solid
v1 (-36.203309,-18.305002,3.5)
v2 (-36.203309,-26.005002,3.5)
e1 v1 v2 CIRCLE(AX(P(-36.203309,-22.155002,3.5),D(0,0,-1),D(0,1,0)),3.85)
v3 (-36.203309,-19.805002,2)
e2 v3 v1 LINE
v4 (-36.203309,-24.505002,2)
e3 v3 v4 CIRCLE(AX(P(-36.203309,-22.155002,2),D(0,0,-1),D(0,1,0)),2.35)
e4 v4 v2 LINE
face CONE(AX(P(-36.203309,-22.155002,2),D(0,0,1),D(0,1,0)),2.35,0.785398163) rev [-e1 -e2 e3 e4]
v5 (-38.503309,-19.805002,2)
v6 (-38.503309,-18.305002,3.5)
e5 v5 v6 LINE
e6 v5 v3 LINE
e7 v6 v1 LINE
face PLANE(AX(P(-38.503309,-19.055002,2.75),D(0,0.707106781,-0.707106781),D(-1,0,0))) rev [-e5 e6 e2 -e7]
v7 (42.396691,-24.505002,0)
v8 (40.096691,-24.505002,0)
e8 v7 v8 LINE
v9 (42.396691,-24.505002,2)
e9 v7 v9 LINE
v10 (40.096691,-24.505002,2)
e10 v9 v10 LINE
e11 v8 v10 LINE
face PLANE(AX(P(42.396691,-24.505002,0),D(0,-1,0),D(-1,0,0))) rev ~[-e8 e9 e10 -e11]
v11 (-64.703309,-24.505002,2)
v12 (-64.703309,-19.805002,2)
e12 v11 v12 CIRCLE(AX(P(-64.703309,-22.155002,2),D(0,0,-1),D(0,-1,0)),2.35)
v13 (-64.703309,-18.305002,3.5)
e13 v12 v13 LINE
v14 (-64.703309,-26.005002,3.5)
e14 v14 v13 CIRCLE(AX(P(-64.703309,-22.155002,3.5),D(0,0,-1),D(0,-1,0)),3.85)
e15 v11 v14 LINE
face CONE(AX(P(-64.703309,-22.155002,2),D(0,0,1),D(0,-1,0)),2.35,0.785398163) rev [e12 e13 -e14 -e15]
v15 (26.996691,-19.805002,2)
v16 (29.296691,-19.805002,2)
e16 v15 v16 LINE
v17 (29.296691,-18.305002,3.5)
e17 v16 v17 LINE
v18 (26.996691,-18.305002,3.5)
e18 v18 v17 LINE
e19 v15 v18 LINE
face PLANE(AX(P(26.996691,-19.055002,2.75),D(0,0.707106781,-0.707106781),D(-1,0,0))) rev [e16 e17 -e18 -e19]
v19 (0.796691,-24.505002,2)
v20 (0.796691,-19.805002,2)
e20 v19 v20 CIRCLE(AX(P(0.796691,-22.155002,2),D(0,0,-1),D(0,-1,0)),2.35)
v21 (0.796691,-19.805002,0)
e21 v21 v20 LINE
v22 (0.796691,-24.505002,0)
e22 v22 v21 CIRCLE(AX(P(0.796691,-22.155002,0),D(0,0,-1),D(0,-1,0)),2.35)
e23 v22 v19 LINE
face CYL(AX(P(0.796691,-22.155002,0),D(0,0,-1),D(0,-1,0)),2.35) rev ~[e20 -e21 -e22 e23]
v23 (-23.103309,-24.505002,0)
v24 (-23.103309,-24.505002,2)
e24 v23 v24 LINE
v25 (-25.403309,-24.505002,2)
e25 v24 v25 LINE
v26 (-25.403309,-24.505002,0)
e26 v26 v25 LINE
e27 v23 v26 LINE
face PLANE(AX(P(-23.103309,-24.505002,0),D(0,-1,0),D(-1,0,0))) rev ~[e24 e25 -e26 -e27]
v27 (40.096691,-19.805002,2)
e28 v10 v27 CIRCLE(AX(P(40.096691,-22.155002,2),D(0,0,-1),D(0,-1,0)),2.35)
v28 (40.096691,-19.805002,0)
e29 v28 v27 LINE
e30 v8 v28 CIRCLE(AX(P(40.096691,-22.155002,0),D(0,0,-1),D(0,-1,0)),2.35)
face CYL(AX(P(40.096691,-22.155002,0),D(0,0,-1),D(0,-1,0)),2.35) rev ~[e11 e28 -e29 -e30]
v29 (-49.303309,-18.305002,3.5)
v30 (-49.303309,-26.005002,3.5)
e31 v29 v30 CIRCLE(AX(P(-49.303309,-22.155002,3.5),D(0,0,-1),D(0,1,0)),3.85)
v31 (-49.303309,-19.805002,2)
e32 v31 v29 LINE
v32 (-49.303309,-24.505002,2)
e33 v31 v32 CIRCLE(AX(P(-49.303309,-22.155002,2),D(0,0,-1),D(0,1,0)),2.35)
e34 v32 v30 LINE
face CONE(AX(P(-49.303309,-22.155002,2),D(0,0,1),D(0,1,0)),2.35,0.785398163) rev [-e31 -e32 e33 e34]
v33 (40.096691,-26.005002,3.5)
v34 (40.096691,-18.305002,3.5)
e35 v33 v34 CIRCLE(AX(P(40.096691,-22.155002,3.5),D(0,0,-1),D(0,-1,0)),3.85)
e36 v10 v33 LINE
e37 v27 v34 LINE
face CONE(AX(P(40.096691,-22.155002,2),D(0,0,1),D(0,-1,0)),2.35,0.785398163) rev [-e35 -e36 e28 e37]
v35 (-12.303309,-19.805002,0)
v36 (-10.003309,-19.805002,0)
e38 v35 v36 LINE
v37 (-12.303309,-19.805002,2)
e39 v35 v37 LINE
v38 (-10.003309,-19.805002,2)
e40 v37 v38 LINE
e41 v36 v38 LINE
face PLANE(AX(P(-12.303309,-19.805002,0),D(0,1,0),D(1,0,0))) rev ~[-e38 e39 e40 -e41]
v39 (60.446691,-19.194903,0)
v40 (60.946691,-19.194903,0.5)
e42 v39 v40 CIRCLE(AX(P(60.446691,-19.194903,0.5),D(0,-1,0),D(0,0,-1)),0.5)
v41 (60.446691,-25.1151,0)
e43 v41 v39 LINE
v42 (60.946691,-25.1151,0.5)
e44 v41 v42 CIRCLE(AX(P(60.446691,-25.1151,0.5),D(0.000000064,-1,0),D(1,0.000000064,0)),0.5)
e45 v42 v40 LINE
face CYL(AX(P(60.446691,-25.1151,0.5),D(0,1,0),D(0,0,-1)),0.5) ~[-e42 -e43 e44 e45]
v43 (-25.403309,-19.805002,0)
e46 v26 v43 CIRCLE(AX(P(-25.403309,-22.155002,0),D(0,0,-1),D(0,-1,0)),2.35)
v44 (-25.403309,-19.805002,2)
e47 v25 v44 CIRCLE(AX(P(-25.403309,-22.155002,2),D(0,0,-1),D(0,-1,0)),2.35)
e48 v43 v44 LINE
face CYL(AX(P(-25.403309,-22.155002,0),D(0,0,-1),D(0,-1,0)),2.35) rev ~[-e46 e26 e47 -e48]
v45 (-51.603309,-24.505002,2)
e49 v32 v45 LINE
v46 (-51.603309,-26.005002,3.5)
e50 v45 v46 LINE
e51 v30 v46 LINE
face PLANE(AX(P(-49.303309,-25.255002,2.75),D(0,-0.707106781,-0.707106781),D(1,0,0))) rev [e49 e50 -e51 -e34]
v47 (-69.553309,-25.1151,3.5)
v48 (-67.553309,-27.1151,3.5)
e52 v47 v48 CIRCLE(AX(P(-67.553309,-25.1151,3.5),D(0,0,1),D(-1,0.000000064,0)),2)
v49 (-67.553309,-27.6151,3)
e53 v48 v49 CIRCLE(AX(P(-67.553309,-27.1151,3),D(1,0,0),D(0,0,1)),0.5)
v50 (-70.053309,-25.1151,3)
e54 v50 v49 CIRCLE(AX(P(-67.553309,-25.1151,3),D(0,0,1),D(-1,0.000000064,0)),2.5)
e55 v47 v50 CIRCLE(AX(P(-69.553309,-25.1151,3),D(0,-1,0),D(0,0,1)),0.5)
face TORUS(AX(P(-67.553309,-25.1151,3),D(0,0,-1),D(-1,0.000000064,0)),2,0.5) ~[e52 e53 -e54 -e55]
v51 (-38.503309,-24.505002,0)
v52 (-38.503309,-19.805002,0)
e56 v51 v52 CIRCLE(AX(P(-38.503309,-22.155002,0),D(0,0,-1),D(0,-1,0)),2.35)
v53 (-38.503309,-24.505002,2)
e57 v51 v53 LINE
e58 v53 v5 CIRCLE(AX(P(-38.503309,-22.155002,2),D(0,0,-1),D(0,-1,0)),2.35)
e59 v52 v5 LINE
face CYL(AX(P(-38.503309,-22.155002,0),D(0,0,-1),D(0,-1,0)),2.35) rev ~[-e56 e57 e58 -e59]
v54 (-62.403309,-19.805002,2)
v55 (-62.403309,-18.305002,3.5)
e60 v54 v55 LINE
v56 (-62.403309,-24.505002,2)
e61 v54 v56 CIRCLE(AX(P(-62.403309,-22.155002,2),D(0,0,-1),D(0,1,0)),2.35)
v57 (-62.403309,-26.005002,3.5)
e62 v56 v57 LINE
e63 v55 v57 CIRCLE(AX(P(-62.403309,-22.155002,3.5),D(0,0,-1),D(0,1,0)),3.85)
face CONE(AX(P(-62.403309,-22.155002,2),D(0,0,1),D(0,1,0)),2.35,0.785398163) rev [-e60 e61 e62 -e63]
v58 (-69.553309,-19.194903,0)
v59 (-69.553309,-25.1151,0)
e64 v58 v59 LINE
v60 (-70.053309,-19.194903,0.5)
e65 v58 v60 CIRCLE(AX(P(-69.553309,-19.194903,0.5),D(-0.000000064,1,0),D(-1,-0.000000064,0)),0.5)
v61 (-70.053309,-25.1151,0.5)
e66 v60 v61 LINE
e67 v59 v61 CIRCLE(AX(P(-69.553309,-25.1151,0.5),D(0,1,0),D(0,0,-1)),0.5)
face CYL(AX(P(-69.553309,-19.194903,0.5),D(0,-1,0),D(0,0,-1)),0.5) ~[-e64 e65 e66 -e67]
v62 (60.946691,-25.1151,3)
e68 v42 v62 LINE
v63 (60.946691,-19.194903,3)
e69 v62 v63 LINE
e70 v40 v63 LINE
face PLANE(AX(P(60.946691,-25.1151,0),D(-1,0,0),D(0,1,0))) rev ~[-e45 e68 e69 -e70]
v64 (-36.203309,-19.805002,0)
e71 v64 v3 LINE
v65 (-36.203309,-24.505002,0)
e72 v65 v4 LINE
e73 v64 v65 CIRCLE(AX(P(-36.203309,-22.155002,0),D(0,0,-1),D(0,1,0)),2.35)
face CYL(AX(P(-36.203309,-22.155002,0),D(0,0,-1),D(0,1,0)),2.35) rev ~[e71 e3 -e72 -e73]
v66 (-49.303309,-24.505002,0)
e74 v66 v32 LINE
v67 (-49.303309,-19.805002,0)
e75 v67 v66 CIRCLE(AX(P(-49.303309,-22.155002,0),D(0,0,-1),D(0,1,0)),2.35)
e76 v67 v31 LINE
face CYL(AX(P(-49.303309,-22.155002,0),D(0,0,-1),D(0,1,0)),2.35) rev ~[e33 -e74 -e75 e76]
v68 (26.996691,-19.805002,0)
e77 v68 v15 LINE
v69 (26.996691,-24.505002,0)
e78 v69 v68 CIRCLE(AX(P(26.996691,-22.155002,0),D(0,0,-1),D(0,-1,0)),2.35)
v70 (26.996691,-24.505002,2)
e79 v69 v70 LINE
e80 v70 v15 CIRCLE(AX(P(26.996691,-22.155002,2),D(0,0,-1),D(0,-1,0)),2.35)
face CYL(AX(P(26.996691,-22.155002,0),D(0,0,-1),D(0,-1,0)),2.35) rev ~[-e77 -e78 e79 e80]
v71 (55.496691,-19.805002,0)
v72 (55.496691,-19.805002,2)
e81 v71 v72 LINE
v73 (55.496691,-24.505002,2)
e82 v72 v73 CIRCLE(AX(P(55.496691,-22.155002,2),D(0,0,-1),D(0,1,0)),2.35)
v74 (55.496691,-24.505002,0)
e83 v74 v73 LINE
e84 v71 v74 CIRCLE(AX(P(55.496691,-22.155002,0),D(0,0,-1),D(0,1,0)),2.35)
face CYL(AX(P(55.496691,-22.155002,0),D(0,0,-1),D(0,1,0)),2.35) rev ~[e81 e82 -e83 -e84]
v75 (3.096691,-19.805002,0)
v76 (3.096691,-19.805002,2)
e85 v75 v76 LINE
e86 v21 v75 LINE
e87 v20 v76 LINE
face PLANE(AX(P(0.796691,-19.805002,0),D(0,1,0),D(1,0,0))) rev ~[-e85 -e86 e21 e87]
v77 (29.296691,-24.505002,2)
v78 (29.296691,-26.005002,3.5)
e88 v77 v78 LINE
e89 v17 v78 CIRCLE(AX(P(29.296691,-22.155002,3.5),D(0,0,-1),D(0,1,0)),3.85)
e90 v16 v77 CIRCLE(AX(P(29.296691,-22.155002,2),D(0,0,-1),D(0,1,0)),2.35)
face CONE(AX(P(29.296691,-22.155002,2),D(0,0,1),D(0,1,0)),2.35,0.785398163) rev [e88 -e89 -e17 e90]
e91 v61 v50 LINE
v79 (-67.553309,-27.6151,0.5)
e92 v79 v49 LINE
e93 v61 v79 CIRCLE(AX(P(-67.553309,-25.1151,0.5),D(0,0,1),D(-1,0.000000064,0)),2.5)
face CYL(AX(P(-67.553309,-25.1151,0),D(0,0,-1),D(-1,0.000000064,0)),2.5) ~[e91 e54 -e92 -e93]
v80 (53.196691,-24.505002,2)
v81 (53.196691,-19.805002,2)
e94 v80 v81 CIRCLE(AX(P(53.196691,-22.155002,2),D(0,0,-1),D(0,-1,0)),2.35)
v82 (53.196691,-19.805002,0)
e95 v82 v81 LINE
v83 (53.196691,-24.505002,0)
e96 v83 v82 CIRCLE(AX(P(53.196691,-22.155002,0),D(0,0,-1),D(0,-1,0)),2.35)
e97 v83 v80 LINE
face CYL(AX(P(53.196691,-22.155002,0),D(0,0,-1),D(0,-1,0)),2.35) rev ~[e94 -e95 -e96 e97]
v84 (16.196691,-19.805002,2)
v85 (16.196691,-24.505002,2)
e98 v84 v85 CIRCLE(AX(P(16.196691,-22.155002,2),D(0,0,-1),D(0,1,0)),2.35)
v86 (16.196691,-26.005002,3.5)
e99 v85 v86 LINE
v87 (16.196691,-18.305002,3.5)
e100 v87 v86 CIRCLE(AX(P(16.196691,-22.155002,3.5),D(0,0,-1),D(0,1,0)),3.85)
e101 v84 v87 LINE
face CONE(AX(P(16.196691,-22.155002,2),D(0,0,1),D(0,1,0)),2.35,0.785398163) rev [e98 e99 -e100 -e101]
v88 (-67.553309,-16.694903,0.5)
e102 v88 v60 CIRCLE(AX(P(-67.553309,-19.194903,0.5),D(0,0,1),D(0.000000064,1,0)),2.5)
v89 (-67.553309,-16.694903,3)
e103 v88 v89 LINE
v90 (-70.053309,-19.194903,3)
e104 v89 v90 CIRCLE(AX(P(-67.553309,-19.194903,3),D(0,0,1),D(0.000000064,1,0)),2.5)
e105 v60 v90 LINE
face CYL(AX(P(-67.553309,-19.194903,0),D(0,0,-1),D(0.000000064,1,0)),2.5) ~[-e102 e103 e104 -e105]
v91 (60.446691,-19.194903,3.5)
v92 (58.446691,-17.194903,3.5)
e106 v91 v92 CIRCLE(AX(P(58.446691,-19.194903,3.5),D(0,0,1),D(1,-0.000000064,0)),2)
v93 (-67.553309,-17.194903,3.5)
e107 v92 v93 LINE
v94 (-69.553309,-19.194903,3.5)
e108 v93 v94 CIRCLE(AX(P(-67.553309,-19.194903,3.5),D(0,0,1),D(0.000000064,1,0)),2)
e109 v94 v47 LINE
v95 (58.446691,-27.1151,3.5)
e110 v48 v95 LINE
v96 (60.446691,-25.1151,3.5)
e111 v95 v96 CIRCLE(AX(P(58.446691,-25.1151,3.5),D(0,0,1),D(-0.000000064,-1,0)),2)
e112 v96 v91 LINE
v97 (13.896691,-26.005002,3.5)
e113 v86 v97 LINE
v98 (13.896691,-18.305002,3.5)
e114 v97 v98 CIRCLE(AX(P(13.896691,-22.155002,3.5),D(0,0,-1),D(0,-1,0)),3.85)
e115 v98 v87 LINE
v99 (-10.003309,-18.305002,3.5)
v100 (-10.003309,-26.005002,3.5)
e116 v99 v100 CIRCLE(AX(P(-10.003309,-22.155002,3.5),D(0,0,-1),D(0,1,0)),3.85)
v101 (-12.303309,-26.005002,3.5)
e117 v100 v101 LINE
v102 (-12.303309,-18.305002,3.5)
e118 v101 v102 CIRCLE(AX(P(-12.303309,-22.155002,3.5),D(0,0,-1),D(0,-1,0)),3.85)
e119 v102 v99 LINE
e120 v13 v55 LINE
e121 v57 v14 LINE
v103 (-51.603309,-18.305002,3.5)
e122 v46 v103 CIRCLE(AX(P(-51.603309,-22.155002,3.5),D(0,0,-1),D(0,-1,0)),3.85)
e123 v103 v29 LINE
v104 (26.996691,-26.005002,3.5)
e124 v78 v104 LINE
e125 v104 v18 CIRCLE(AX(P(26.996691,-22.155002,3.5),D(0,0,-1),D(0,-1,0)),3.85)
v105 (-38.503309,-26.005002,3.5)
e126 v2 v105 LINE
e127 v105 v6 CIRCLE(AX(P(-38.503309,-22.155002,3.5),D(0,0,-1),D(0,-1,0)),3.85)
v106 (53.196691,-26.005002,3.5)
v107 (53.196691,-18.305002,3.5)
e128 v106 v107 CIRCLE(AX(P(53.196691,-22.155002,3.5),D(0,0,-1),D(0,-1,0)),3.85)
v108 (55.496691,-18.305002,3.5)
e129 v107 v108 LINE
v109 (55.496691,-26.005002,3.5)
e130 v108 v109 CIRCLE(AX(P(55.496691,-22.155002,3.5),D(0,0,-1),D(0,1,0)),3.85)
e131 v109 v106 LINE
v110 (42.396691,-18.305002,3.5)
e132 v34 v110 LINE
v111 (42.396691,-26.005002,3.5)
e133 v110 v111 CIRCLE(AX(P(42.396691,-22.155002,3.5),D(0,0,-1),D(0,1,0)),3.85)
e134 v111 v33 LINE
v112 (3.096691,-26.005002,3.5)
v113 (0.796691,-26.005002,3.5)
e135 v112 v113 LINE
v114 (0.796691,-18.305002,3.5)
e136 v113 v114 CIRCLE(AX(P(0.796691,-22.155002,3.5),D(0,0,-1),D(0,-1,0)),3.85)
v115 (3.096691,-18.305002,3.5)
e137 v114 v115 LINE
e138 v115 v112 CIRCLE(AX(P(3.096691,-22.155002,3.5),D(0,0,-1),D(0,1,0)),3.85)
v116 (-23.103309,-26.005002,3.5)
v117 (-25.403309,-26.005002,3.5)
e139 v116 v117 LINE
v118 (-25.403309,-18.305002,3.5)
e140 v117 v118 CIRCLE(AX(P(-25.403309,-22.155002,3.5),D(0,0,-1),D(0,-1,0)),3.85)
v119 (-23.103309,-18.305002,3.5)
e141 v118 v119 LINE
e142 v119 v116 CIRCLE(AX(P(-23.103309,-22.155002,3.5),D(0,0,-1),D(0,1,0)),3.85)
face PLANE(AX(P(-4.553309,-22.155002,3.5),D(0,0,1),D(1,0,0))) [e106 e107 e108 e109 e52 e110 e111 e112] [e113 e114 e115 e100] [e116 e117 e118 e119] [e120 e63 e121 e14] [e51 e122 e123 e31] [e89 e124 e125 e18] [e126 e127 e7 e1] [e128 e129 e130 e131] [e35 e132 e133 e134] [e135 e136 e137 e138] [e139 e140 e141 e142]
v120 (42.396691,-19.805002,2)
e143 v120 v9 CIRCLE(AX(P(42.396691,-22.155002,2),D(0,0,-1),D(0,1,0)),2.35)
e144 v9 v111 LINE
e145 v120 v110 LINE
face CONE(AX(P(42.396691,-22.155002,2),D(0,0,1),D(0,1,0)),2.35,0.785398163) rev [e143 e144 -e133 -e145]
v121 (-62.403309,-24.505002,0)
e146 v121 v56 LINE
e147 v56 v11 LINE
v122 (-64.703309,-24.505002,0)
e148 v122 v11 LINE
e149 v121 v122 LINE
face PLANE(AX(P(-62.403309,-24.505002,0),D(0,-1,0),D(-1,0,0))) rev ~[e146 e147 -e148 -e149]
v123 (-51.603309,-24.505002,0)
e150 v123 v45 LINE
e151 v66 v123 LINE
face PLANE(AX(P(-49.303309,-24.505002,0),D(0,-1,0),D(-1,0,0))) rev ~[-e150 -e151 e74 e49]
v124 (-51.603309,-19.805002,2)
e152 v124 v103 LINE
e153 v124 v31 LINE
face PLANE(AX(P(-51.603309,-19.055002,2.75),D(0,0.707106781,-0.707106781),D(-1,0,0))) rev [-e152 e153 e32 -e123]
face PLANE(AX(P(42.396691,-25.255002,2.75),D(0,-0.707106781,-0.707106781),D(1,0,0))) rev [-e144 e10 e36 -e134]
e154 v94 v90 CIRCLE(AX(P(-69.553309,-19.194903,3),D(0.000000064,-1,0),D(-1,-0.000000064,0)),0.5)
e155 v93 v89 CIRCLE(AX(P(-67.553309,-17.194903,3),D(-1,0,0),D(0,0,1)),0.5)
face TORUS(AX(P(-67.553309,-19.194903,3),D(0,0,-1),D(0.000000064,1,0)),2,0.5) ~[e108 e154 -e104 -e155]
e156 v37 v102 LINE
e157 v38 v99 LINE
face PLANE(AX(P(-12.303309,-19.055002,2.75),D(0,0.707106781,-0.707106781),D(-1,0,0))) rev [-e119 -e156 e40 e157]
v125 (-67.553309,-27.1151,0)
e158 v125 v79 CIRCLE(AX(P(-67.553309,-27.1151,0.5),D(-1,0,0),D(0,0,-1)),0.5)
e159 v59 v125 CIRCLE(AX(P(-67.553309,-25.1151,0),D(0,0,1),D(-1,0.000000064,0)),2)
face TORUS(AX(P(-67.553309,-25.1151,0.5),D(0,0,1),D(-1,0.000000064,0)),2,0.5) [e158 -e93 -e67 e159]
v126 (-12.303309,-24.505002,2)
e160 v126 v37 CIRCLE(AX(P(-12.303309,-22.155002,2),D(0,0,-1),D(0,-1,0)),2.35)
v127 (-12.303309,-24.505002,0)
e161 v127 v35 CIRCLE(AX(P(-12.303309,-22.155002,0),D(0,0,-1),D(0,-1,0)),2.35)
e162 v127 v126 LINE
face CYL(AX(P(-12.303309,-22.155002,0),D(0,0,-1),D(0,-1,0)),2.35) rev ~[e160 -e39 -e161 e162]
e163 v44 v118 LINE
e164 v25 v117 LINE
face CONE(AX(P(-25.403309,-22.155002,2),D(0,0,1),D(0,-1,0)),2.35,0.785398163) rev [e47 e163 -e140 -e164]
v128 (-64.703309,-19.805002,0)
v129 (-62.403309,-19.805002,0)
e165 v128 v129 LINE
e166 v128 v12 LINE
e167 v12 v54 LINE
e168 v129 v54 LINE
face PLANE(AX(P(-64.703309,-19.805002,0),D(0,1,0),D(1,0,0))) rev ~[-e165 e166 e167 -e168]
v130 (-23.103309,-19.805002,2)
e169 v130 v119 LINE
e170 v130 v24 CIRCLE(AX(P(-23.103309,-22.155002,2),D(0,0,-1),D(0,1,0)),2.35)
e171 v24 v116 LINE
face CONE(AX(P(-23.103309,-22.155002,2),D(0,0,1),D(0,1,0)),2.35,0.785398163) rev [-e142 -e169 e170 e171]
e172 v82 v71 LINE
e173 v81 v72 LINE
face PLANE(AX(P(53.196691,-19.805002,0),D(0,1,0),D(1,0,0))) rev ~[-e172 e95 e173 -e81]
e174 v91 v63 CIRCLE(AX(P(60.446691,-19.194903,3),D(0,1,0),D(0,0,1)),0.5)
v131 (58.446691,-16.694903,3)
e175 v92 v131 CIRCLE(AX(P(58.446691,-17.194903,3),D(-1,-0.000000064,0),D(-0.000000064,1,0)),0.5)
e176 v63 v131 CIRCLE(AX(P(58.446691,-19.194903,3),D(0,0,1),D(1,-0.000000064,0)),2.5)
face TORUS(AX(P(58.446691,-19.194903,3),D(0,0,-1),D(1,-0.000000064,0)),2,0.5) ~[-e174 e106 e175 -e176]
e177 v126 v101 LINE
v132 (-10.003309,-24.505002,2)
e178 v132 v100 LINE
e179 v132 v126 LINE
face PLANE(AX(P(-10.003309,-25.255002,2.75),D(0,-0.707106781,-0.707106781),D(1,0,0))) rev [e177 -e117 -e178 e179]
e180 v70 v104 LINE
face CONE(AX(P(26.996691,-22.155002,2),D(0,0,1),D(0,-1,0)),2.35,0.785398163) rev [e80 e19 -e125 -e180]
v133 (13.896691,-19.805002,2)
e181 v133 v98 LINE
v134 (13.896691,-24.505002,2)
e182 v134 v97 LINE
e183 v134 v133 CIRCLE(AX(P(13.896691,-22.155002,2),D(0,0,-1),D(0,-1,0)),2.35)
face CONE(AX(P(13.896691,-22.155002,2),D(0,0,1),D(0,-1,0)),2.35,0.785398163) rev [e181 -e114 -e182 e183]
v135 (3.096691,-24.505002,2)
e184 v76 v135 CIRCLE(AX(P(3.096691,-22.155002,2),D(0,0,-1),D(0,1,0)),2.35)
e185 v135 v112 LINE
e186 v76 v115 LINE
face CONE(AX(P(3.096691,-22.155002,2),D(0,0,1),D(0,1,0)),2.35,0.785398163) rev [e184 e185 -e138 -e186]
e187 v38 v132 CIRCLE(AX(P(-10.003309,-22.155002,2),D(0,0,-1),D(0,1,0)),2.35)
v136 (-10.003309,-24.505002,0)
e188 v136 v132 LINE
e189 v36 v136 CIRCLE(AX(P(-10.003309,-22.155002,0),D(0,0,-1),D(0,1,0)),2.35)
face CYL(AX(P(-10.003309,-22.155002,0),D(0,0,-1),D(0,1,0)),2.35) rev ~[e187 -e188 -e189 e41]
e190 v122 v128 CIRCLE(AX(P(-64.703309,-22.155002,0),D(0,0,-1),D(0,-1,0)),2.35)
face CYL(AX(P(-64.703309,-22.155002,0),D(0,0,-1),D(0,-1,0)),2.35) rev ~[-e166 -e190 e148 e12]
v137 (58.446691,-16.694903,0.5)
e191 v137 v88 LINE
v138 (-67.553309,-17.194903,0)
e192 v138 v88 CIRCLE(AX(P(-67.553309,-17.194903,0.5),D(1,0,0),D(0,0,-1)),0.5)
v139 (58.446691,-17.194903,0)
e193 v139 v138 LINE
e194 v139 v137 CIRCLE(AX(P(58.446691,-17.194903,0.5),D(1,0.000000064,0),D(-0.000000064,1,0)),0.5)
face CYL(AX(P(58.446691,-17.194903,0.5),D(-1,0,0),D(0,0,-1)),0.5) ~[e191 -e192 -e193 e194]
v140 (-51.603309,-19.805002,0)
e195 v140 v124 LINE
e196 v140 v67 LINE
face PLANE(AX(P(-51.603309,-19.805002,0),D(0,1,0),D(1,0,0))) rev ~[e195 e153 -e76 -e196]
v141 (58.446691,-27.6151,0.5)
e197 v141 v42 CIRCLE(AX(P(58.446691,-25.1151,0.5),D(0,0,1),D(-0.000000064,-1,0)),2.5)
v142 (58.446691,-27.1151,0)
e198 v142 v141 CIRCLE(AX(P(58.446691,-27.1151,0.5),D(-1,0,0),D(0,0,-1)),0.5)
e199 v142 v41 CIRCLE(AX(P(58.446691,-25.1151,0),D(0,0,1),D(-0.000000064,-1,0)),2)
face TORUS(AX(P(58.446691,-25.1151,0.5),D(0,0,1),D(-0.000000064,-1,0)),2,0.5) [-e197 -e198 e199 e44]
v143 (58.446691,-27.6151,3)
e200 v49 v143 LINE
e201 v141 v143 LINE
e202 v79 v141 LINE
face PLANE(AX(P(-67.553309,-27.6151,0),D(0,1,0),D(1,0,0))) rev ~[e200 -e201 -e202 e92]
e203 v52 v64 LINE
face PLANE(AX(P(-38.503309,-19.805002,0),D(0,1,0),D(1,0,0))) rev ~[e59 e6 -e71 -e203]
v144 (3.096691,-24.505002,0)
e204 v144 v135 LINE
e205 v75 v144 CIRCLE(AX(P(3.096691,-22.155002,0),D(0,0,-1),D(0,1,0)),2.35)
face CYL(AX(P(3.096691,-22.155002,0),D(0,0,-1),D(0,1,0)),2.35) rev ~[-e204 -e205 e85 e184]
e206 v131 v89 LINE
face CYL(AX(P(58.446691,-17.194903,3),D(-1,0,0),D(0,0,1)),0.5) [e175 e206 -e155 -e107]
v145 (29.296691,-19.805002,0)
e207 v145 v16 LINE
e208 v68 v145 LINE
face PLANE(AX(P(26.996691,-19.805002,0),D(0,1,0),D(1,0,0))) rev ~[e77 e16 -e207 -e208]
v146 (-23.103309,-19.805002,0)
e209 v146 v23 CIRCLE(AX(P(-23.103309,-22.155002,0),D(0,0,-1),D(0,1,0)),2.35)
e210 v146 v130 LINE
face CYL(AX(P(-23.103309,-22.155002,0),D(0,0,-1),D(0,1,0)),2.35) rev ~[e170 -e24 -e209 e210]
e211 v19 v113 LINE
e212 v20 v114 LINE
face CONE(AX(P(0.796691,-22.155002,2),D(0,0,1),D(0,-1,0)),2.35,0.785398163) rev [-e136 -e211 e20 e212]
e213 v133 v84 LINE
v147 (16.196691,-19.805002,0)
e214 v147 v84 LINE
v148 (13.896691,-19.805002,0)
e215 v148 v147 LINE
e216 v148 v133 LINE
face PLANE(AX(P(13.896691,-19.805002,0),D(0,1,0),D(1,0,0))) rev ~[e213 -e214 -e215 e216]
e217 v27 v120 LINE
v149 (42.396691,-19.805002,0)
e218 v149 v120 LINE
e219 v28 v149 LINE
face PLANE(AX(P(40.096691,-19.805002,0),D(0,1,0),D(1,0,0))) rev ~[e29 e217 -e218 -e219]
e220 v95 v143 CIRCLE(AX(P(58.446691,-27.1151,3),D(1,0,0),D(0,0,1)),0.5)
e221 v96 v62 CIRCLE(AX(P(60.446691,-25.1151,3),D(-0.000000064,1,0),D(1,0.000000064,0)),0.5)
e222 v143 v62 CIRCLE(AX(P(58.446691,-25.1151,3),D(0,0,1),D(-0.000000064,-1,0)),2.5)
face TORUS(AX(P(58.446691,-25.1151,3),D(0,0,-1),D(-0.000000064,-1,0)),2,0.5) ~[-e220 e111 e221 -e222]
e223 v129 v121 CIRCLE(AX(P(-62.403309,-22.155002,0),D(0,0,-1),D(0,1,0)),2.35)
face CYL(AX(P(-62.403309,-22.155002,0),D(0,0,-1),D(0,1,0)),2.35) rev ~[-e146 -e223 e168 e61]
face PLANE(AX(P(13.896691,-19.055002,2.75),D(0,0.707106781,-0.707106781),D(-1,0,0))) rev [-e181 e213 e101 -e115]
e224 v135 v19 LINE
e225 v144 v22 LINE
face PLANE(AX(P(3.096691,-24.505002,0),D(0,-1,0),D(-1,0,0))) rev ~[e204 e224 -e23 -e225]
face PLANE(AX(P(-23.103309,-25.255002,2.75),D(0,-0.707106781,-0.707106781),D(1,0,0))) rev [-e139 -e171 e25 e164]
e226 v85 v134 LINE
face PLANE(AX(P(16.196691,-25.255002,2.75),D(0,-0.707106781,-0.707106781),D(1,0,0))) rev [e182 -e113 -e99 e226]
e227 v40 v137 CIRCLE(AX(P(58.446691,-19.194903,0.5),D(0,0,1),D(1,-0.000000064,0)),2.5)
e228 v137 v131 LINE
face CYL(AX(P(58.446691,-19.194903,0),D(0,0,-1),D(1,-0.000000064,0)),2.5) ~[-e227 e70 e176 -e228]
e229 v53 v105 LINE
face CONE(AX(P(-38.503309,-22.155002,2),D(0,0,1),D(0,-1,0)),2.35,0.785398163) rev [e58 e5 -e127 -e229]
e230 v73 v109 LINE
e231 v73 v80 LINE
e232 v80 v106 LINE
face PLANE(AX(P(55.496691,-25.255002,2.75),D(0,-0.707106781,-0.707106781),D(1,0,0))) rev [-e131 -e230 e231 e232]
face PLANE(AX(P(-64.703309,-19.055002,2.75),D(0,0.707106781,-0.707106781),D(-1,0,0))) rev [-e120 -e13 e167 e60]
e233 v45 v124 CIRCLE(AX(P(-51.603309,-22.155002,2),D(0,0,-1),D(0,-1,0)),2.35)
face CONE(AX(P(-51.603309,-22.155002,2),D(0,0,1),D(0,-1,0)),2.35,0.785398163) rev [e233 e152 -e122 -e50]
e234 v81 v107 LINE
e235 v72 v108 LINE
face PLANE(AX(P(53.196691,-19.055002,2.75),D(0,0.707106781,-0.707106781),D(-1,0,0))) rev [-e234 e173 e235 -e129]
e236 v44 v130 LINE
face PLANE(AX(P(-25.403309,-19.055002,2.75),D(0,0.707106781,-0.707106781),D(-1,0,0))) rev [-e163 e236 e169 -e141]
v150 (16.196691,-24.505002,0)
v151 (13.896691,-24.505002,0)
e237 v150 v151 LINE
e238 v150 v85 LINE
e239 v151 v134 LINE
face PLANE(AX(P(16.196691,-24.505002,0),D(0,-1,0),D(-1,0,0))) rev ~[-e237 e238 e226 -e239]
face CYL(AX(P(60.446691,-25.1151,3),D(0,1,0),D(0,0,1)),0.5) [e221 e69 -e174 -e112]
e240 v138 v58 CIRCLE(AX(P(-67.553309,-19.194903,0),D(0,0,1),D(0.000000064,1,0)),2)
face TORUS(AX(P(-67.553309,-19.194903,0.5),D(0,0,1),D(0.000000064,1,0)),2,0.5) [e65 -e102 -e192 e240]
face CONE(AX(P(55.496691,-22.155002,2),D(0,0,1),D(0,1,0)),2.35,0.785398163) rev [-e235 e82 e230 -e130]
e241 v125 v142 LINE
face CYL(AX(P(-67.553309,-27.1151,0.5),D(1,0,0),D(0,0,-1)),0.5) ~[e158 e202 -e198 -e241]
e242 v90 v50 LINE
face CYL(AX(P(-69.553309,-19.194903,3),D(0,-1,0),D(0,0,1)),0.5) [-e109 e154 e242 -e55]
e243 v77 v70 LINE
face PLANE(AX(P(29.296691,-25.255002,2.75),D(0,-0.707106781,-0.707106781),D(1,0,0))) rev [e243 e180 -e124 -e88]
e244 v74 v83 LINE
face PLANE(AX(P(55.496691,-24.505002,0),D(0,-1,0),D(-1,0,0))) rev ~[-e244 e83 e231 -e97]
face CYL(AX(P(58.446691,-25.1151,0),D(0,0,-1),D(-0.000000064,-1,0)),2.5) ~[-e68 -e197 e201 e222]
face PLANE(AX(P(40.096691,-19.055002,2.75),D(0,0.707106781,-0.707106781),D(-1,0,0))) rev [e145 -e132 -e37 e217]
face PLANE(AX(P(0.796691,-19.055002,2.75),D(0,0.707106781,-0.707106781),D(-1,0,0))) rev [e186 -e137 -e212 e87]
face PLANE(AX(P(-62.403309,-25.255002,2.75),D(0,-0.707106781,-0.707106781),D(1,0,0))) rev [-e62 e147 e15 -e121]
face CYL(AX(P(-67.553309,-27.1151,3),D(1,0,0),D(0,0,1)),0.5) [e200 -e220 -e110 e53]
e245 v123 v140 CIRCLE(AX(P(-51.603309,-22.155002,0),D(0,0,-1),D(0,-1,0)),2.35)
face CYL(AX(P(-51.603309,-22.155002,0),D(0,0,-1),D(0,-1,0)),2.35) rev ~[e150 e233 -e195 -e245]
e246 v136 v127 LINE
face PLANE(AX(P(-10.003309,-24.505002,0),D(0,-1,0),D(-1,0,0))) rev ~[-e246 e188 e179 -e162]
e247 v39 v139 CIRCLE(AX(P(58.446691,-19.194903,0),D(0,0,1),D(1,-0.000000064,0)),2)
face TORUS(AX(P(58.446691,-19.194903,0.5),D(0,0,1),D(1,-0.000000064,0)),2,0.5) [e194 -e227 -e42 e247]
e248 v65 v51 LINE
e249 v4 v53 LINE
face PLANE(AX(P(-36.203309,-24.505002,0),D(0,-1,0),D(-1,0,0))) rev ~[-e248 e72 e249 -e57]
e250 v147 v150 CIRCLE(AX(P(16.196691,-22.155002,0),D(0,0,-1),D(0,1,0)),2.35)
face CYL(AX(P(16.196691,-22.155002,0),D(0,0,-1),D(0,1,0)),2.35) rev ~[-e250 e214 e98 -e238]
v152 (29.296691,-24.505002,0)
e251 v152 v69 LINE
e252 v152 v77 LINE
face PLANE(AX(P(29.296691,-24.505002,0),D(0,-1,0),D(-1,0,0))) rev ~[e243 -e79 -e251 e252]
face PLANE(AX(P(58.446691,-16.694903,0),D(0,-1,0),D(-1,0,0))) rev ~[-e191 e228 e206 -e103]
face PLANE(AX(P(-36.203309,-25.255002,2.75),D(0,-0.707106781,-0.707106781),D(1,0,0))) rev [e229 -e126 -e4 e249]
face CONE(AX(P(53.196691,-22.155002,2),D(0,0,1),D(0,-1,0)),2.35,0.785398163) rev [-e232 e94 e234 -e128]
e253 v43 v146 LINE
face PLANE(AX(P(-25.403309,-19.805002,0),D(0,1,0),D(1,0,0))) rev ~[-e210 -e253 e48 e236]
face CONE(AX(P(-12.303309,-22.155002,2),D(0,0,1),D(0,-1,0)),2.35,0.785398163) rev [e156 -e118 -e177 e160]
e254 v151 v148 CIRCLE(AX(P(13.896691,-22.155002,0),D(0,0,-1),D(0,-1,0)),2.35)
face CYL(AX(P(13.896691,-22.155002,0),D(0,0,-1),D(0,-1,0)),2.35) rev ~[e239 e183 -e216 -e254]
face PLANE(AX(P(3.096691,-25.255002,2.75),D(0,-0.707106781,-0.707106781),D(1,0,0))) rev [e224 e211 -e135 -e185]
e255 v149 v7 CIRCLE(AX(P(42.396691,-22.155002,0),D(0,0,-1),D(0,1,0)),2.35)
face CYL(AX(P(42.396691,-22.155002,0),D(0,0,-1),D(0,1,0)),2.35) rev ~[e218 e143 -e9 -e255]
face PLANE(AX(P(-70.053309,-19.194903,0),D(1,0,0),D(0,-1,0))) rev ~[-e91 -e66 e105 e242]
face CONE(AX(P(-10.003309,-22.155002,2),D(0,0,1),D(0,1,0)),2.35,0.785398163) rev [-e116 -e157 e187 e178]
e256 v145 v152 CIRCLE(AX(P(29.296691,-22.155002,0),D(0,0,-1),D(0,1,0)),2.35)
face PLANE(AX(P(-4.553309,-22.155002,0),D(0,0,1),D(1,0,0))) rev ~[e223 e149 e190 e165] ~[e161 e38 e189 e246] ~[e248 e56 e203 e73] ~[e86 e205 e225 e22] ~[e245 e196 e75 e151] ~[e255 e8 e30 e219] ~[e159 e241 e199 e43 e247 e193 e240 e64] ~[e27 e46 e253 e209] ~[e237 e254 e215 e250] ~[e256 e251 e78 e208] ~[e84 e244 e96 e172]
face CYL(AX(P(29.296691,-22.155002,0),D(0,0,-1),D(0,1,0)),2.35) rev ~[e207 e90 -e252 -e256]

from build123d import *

# Parameters (mm, degrees)
F1_DEPTH = 3.5
F2_SIZE  = 1.5
F3_R     = 0.5


with BuildPart() as f1:
    # F0 (on Top) → F1 (new body)
    with BuildSketch(Plane.XY):
        with BuildLine():
            ThreePointArc((-70.053309, -25.1151), (-69.321076, -26.882867), (-67.553309, -27.6151))
            Line((-67.553309, -27.6151), (58.446691, -27.6151))
            ThreePointArc((58.446691, -27.6151), (60.214458, -26.882867), (60.946691, -25.1151))
            Line((60.946691, -25.1151), (60.946691, -19.194903))
            ThreePointArc((60.946691, -19.194903), (60.214458, -17.427136), (58.446691, -16.694903))
            Line((58.446691, -16.694903), (-67.553309, -16.694903))
            ThreePointArc((-67.553309, -16.694903), (-69.321076, -17.427136), (-70.053309, -19.194903))
            Line((-70.053309, -19.194903), (-70.053309, -25.1151))
        make_face()
        with BuildLine():
            ThreePointArc((-64.703309, -24.505002), (-67.053309, -22.155002), (-64.703309, -19.805002))
            Line((-64.703309, -19.805002), (-62.403309, -19.805002))
            ThreePointArc((-62.403309, -19.805002), (-60.053309, -22.155002), (-62.403309, -24.505002))
            Line((-62.403309, -24.505002), (-64.703309, -24.505002))
        make_face(mode=Mode.SUBTRACT)
        with BuildLine():
            ThreePointArc((-51.603309, -24.505002), (-53.953309, -22.155002), (-51.603309, -19.805002))
            Line((-51.603309, -19.805002), (-49.303309, -19.805002))
            ThreePointArc((-49.303309, -19.805002), (-46.953309, -22.155002), (-49.303309, -24.505002))
            Line((-49.303309, -24.505002), (-51.603309, -24.505002))
        make_face(mode=Mode.SUBTRACT)
        with BuildLine():
            ThreePointArc((-38.503309, -24.505002), (-40.853309, -22.155002), (-38.503309, -19.805002))
            Line((-38.503309, -19.805002), (-36.203309, -19.805002))
            ThreePointArc((-36.203309, -19.805002), (-33.853309, -22.155002), (-36.203309, -24.505002))
            Line((-36.203309, -24.505002), (-38.503309, -24.505002))
        make_face(mode=Mode.SUBTRACT)
        with BuildLine():
            ThreePointArc((-25.403309, -24.505002), (-27.753309, -22.155002), (-25.403309, -19.805002))
            Line((-25.403309, -19.805002), (-23.103309, -19.805002))
            ThreePointArc((-23.103309, -19.805002), (-20.753309, -22.155002), (-23.103309, -24.505002))
            Line((-23.103309, -24.505002), (-25.403309, -24.505002))
        make_face(mode=Mode.SUBTRACT)
        with BuildLine():
            ThreePointArc((-12.303309, -24.505002), (-14.653309, -22.155002), (-12.303309, -19.805002))
            Line((-12.303309, -19.805002), (-10.003309, -19.805002))
            ThreePointArc((-10.003309, -19.805002), (-7.653309, -22.155002), (-10.003309, -24.505002))
            Line((-10.003309, -24.505002), (-12.303309, -24.505002))
        make_face(mode=Mode.SUBTRACT)
        with BuildLine():
            ThreePointArc((0.796691, -24.505002), (-1.553309, -22.155002), (0.796691, -19.805002))
            Line((0.796691, -19.805002), (3.096691, -19.805002))
            ThreePointArc((3.096691, -19.805002), (5.446691, -22.155002), (3.096691, -24.505002))
            Line((3.096691, -24.505002), (0.796691, -24.505002))
        make_face(mode=Mode.SUBTRACT)
        with BuildLine():
            ThreePointArc((13.896691, -24.505002), (11.546691, -22.155002), (13.896691, -19.805002))
            Line((13.896691, -19.805002), (16.196691, -19.805002))
            ThreePointArc((16.196691, -19.805002), (18.546691, -22.155002), (16.196691, -24.505002))
            Line((16.196691, -24.505002), (13.896691, -24.505002))
        make_face(mode=Mode.SUBTRACT)
        with BuildLine():
            ThreePointArc((26.996691, -24.505002), (24.646691, -22.155002), (26.996691, -19.805002))
            Line((26.996691, -19.805002), (29.296691, -19.805002))
            ThreePointArc((29.296691, -19.805002), (31.646691, -22.155002), (29.296691, -24.505002))
            Line((29.296691, -24.505002), (26.996691, -24.505002))
        make_face(mode=Mode.SUBTRACT)
        with BuildLine():
            ThreePointArc((40.096691, -24.505002), (37.746691, -22.155002), (40.096691, -19.805002))
            Line((40.096691, -19.805002), (42.396691, -19.805002))
            ThreePointArc((42.396691, -19.805002), (44.746691, -22.155002), (42.396691, -24.505002))
            Line((42.396691, -24.505002), (40.096691, -24.505002))
        make_face(mode=Mode.SUBTRACT)
        with BuildLine():
            ThreePointArc((53.196691, -24.505002), (50.846691, -22.155002), (53.196691, -19.805002))
            Line((53.196691, -19.805002), (55.496691, -19.805002))
            ThreePointArc((55.496691, -19.805002), (57.846691, -22.155002), (55.496691, -24.505002))
            Line((55.496691, -24.505002), (53.196691, -24.505002))
        make_face(mode=Mode.SUBTRACT)
    extrude(amount=F1_DEPTH)

    # F2
    f2_edges = [f1.edges().sort_by_distance(p)[0] for p in [
        (-60.053309, -22.155002, 3.5),
        (-46.953309, -22.155002, 3.5),
        (-33.853309, -22.155002, 3.5),
        (-20.753309, -22.155002, 3.5),
        (-7.653309, -22.155002, 3.5),
        (5.446691, -22.155002, 3.5),
        (18.546691, -22.155002, 3.5),
        (31.646691, -22.155002, 3.5),
        (44.746691, -22.155002, 3.5),
        (57.846691, -22.155002, 3.5),
    ]]
    chamfer(f2_edges, length=F2_SIZE)

    # F3
    f3_edges = [f1.edges().sort_by_distance(p)[0] for p in [
        (-4.553309, -27.6151, 3.5),
        (-4.553309, -27.6151, 0),
    ]]
    fillet(f3_edges, radius=F3_R)


solid = f1.part
